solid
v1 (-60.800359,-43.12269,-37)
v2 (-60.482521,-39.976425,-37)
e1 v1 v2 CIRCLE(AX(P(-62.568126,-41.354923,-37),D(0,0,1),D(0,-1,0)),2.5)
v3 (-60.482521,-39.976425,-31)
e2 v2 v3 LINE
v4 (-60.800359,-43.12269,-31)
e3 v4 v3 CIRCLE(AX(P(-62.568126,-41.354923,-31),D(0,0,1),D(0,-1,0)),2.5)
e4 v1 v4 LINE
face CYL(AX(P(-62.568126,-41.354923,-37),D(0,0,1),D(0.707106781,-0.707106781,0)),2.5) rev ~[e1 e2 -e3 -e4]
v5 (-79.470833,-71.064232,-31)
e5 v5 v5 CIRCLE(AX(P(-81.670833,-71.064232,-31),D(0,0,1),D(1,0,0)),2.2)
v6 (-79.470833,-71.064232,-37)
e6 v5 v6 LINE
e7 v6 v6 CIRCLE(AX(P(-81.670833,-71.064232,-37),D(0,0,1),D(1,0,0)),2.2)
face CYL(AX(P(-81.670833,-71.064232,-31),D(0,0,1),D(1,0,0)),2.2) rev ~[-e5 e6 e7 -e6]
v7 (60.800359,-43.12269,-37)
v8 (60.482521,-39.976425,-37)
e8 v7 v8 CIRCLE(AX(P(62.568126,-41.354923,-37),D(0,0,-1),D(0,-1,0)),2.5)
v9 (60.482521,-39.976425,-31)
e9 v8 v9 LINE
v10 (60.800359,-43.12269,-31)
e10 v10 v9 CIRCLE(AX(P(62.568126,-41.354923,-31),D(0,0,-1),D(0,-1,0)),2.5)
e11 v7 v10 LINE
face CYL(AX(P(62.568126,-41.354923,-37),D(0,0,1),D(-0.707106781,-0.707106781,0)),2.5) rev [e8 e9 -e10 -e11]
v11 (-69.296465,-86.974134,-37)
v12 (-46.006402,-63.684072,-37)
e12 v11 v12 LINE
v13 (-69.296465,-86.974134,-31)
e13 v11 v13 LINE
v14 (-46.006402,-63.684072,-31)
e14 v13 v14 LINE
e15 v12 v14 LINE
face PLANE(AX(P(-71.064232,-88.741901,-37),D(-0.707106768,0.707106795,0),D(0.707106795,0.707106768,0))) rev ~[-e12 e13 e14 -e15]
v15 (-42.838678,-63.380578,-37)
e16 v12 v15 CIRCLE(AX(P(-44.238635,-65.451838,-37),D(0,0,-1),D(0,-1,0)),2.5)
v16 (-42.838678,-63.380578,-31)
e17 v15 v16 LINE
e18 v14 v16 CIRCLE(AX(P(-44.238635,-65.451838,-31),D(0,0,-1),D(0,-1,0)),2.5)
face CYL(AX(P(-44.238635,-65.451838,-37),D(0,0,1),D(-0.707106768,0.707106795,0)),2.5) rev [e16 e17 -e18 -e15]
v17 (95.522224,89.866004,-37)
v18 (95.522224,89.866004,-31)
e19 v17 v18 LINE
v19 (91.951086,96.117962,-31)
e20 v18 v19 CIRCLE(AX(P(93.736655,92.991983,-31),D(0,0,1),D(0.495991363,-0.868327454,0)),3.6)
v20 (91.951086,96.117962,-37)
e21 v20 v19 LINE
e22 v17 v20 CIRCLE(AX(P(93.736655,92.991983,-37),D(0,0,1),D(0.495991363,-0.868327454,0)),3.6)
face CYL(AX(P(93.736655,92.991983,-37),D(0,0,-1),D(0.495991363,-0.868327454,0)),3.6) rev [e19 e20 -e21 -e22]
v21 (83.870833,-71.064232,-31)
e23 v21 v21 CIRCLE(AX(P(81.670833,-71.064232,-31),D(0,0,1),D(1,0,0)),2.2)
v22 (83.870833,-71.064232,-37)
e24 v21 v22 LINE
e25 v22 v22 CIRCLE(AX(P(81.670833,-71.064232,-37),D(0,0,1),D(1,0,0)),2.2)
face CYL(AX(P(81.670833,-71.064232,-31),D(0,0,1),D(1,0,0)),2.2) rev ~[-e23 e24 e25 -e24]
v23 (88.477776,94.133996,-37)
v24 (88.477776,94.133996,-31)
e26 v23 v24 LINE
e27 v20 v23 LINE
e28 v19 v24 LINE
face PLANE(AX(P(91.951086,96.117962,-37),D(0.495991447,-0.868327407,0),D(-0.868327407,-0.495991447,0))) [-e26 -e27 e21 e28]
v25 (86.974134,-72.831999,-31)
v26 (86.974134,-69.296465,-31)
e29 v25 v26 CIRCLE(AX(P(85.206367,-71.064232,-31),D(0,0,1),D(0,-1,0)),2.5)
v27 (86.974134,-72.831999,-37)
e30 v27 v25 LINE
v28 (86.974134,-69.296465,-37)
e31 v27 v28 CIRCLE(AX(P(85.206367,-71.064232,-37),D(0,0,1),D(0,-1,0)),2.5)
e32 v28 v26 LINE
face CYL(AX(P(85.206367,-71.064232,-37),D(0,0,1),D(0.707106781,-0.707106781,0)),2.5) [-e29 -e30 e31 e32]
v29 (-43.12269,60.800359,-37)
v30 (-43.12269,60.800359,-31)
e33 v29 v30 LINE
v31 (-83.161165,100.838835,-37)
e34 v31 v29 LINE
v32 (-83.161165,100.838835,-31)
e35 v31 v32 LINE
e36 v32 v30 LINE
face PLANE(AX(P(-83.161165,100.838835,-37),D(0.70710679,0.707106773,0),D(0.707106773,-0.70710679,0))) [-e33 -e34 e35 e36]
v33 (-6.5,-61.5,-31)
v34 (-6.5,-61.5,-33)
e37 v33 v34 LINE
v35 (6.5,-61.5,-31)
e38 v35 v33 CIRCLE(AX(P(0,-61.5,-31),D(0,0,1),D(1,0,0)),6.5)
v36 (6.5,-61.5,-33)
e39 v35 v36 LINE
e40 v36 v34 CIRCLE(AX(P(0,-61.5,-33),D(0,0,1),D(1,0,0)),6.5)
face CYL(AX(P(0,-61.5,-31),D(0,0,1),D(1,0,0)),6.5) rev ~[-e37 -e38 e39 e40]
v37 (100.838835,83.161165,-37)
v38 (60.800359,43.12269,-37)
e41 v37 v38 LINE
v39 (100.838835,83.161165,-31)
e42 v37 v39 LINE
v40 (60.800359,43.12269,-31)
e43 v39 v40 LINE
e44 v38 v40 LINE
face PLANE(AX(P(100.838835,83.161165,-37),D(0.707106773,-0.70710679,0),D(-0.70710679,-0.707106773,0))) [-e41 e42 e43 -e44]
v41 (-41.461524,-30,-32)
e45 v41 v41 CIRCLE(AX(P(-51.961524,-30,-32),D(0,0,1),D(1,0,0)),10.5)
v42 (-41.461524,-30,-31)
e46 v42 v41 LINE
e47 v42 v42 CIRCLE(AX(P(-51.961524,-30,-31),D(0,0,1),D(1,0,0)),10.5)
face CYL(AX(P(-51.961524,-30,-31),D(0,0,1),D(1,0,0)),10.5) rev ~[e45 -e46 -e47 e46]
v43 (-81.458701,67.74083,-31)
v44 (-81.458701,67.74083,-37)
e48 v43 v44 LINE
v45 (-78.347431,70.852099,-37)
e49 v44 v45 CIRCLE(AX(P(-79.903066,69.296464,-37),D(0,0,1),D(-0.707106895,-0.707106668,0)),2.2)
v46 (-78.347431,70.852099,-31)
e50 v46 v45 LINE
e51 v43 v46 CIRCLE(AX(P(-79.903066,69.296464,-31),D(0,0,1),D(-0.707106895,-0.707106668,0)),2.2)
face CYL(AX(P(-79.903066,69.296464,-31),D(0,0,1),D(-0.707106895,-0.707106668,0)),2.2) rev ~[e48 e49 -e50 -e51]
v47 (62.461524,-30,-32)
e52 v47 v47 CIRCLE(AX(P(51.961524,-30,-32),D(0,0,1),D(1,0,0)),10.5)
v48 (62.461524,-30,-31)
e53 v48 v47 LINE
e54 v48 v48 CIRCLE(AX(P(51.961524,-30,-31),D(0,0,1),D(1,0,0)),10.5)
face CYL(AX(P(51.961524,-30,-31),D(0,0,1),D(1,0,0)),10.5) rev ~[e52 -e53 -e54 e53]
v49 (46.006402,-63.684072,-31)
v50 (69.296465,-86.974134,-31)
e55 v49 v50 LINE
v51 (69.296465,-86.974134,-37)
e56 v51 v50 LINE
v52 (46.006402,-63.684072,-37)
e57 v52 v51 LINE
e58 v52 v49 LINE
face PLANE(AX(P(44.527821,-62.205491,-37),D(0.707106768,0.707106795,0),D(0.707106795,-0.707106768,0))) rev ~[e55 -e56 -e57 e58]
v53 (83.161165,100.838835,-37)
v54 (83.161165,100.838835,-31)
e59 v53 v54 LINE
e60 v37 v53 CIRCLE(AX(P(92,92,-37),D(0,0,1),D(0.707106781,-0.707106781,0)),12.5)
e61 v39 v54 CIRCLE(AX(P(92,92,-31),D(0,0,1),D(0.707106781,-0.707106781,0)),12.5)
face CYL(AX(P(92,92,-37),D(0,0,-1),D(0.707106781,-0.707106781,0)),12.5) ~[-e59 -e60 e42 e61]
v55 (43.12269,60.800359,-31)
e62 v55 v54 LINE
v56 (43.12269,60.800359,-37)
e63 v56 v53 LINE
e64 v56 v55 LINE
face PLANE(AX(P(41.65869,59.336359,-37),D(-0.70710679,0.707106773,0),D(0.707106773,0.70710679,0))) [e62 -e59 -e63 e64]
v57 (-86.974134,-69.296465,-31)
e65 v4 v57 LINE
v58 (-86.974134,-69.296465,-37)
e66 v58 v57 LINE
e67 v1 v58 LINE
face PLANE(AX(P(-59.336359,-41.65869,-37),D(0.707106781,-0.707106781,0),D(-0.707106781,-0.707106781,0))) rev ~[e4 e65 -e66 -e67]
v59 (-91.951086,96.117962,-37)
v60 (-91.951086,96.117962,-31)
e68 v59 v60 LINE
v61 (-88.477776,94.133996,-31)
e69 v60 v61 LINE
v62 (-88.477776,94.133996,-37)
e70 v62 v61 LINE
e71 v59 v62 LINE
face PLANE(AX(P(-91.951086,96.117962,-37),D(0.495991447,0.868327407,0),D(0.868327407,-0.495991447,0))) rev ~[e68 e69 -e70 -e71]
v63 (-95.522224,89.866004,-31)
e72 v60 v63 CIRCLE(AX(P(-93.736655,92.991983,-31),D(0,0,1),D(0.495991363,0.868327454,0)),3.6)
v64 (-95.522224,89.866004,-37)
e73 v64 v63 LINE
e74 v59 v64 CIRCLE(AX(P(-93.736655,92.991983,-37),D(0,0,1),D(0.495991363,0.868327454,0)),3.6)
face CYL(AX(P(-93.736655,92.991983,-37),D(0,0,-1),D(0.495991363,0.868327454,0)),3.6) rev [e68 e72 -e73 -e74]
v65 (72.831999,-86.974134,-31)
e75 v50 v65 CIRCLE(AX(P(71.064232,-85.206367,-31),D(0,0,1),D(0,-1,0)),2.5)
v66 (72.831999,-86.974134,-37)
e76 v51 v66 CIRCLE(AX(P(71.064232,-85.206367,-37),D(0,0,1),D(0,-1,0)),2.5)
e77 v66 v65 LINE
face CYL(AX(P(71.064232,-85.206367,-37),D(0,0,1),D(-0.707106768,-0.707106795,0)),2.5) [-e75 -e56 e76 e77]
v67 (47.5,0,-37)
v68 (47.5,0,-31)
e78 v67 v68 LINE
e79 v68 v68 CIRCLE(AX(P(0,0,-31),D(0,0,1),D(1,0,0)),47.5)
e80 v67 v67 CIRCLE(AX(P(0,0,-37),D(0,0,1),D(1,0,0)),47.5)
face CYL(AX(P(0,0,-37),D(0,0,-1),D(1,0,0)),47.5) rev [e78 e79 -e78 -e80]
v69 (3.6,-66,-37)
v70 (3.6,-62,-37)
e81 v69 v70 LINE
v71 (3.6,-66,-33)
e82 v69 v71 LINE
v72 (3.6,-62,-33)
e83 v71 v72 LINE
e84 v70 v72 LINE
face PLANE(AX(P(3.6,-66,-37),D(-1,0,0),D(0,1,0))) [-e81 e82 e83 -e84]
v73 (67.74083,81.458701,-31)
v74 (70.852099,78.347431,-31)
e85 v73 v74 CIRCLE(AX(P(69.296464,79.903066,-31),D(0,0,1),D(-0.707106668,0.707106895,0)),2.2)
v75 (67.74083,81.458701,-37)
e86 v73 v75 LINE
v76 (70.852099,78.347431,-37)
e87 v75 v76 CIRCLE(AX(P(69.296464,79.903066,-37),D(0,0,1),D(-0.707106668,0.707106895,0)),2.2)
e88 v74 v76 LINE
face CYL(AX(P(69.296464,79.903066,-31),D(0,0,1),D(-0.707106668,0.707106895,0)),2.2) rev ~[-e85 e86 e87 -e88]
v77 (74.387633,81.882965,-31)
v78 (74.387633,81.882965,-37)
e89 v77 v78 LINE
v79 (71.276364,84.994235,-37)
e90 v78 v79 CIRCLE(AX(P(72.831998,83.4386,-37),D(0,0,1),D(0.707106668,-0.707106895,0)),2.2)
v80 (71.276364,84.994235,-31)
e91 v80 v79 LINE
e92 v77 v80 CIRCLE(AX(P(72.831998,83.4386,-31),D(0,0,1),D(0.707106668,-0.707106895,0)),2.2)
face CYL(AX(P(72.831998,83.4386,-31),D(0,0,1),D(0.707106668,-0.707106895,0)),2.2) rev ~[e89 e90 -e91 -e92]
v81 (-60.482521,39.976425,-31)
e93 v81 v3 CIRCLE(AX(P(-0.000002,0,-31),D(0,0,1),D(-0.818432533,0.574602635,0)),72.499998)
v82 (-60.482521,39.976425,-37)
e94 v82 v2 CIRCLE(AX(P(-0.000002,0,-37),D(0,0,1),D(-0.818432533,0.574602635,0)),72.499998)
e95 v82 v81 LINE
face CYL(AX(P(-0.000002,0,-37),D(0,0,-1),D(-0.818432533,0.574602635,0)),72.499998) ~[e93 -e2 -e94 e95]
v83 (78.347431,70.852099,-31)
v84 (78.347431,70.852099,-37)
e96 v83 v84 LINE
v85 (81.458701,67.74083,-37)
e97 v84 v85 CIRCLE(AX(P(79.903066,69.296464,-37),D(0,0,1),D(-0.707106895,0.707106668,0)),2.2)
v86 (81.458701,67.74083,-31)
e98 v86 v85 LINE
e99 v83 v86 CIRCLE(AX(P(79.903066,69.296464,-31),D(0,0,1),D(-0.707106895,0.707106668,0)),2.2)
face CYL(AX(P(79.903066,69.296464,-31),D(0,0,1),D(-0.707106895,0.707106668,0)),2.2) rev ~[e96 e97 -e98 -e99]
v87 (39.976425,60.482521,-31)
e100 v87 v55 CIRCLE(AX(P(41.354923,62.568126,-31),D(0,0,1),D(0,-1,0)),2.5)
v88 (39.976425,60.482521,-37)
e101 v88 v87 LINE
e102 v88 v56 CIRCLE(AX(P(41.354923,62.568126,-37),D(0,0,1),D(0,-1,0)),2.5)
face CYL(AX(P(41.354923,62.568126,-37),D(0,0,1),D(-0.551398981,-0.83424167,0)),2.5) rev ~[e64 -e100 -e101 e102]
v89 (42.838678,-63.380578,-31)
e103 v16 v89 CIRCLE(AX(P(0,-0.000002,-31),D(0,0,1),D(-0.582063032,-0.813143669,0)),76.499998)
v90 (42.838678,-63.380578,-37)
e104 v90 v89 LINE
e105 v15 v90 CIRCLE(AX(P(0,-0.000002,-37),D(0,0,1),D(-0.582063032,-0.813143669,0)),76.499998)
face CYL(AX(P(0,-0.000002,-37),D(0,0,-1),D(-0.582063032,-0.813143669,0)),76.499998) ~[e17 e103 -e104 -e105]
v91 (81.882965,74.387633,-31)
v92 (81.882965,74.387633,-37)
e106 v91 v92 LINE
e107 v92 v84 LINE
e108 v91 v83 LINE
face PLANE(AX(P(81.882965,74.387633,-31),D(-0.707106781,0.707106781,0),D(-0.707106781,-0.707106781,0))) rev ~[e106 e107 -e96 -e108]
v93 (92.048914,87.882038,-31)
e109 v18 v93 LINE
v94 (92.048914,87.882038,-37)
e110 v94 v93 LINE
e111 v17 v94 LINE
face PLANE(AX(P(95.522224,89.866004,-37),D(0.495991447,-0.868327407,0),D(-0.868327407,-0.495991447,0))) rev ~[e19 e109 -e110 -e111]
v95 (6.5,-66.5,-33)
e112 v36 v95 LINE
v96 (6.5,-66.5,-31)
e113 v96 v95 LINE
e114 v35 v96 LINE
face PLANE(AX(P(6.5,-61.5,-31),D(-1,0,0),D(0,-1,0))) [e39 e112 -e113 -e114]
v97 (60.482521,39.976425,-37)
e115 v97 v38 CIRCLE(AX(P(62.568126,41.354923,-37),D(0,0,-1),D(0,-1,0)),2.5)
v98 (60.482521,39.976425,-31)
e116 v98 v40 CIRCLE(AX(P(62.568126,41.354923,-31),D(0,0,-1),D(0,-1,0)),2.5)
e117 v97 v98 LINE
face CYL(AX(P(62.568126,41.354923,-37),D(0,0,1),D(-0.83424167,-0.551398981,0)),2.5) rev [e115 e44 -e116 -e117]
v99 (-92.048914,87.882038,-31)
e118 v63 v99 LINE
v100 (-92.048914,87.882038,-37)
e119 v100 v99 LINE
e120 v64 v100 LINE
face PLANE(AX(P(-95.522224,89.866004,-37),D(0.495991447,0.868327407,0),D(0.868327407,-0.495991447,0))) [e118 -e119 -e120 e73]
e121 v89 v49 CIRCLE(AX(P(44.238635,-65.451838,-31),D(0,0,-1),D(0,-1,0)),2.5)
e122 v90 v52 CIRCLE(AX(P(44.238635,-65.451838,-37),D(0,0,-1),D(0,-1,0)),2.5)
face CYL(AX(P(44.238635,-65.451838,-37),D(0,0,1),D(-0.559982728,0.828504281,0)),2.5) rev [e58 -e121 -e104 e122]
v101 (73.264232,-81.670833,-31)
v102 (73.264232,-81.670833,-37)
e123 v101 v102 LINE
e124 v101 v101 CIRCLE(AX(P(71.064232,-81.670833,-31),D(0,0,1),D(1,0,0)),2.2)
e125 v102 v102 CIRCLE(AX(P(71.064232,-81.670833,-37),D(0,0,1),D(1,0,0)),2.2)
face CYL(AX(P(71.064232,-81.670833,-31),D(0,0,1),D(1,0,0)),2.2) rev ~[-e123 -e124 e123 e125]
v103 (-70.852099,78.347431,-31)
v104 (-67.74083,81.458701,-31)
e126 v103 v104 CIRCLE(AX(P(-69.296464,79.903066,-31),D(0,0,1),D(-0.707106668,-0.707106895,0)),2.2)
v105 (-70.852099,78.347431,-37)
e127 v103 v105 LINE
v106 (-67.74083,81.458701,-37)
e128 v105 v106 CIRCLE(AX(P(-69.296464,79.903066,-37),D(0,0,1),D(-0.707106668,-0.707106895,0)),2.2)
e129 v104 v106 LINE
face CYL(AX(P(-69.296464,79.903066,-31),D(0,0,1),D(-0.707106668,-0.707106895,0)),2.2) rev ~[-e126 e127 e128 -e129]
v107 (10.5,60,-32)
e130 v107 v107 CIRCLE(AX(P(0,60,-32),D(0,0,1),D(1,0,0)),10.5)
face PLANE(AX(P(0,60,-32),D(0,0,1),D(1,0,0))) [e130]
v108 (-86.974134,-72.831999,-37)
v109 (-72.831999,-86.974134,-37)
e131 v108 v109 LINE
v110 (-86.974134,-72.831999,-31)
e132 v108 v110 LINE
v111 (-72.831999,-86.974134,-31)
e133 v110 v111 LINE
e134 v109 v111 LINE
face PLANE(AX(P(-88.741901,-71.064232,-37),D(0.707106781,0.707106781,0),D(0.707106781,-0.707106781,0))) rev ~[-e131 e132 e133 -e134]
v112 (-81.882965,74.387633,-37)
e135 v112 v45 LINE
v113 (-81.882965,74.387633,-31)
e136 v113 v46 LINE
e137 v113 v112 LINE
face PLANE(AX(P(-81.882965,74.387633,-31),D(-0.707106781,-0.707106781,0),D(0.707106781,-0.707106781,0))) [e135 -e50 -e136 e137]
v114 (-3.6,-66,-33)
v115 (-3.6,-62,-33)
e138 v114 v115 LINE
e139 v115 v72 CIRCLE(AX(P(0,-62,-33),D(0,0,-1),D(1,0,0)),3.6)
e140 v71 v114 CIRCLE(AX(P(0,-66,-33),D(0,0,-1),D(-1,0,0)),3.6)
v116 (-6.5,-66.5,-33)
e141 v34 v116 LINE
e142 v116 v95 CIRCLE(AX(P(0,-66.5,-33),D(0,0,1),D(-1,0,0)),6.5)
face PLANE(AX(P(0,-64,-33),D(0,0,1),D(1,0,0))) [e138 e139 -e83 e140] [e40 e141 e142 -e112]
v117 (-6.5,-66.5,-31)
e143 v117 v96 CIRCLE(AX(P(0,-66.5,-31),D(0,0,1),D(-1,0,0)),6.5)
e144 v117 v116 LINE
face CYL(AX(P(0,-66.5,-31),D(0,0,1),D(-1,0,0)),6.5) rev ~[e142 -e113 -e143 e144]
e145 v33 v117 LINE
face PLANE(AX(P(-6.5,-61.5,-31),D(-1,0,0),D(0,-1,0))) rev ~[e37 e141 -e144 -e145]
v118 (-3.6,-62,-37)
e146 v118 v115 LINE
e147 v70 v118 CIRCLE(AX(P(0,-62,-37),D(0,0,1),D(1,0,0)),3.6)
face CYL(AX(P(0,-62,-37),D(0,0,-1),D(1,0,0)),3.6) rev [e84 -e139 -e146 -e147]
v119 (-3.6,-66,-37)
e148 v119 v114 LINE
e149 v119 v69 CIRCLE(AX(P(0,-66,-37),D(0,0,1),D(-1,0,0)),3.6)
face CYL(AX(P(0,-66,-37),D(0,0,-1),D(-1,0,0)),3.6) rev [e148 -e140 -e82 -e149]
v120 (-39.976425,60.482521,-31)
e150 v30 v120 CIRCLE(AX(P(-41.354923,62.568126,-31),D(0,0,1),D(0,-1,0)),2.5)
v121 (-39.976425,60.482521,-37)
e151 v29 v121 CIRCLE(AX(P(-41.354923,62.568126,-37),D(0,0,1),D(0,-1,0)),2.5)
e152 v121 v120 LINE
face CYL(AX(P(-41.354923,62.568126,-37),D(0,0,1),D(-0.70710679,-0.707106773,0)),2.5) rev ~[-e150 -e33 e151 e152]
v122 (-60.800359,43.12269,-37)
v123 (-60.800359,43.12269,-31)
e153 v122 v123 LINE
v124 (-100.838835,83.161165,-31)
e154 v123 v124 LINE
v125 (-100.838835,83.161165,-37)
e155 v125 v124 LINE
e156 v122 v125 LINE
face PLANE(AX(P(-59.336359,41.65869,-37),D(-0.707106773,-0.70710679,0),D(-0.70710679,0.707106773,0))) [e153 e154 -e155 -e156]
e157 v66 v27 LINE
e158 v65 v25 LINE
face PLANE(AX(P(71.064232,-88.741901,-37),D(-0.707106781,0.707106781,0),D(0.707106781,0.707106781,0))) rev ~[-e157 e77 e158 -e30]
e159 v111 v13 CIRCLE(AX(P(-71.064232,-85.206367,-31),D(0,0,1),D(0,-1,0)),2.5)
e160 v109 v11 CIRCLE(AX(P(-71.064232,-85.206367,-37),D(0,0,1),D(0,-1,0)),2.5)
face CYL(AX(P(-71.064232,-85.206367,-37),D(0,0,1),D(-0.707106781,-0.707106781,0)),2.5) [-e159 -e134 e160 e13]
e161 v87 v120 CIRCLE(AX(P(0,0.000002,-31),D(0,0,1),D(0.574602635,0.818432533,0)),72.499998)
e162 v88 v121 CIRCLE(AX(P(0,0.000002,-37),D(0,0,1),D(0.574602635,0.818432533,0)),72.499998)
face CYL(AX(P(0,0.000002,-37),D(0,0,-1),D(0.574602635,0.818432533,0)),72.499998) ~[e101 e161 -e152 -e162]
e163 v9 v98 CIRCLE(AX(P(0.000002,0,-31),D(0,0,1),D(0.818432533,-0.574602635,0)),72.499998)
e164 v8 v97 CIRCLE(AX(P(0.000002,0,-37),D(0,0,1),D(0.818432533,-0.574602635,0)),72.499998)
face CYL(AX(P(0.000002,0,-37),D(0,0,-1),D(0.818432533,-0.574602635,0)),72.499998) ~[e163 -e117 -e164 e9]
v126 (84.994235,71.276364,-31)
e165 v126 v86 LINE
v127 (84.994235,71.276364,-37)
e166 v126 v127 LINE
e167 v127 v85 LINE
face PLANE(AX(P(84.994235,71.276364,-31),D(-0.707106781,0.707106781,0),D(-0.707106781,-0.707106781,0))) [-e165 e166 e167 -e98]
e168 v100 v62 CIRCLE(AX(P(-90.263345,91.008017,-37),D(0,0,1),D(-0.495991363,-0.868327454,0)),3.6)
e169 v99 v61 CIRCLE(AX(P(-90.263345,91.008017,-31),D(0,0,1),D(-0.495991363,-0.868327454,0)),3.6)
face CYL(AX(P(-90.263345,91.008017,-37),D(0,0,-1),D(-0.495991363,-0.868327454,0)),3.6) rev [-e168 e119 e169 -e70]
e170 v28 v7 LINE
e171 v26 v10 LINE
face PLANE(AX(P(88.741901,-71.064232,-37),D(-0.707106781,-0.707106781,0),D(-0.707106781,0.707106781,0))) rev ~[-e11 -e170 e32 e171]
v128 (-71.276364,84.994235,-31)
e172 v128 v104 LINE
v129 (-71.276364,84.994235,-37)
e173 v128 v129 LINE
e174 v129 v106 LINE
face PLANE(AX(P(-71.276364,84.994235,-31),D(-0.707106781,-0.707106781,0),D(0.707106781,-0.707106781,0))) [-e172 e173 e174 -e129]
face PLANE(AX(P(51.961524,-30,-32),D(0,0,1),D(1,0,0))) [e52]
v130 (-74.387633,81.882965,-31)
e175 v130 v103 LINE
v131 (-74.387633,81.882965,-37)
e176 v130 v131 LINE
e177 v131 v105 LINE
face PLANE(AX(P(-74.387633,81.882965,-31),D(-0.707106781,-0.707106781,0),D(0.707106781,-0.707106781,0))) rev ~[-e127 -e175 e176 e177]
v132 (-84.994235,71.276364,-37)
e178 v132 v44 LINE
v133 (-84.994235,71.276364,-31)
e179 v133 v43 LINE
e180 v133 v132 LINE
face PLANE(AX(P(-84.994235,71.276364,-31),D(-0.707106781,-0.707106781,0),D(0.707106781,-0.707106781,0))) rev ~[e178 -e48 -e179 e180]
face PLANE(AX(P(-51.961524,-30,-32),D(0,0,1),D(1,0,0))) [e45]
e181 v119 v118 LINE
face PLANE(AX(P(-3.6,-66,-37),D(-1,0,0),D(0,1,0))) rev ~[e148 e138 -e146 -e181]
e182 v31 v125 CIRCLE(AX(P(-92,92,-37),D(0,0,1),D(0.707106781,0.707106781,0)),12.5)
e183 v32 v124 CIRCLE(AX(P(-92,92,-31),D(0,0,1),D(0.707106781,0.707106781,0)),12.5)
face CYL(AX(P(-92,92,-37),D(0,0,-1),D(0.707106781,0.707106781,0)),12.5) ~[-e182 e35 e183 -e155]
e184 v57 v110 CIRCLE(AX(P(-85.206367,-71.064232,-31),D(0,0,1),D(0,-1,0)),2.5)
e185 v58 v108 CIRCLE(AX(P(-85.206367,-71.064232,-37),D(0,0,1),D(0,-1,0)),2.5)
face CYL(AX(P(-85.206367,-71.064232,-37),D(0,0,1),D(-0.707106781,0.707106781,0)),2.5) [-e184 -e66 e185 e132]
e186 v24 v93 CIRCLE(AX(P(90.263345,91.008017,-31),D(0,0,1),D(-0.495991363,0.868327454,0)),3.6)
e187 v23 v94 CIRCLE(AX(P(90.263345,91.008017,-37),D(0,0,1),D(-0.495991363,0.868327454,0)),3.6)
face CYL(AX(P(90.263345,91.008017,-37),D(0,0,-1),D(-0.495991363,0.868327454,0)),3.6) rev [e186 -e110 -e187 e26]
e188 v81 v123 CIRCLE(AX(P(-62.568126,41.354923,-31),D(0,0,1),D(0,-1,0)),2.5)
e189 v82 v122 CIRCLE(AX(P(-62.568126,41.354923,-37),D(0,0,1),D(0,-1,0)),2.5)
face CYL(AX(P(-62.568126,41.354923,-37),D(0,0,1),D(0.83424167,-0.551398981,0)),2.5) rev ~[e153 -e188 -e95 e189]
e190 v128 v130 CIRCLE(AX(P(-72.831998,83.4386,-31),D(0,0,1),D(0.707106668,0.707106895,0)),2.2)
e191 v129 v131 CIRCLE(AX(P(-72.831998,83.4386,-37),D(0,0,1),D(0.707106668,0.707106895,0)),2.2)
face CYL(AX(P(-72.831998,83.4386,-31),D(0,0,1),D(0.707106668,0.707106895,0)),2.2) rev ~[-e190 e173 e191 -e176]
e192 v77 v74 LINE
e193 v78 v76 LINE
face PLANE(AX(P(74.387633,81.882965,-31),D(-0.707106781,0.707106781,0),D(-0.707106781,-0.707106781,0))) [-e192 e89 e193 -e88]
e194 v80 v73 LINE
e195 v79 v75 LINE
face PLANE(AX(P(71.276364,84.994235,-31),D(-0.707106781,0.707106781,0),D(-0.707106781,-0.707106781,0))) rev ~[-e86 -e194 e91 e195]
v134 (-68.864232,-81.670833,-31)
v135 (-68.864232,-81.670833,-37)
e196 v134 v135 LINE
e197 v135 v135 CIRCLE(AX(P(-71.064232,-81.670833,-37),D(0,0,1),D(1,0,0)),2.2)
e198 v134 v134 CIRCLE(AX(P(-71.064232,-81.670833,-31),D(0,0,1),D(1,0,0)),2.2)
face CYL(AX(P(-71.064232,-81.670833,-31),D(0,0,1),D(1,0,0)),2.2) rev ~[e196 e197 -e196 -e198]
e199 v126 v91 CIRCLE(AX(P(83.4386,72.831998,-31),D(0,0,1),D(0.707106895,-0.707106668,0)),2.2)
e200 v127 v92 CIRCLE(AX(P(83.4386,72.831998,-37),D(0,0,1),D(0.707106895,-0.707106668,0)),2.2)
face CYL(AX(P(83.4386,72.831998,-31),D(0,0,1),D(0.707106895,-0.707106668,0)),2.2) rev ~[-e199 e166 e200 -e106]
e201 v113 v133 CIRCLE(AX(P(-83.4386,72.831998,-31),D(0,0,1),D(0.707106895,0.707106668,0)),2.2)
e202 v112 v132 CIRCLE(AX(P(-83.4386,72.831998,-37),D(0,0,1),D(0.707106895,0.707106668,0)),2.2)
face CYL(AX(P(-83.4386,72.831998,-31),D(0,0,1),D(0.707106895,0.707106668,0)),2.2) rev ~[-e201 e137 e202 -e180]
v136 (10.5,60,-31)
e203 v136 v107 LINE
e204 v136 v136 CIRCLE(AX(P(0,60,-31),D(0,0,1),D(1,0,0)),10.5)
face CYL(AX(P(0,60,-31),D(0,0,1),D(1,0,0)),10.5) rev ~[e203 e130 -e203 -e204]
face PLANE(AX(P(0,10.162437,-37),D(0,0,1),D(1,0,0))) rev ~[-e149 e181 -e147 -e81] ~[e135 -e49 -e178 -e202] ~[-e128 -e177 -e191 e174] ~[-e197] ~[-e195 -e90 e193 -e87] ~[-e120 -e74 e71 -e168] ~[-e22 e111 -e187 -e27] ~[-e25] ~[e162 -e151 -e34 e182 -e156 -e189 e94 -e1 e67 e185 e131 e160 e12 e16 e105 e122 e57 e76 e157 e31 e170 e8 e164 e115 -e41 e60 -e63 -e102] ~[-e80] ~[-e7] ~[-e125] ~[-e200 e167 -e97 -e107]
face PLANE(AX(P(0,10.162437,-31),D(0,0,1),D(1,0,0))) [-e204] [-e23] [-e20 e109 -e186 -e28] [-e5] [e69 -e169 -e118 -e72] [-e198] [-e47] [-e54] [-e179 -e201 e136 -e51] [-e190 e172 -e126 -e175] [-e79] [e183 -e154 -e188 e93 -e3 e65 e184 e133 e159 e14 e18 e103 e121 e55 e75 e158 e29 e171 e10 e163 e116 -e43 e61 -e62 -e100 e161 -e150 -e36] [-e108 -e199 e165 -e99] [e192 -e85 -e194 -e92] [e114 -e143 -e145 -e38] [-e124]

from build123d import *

# Parameters (mm, degrees)
SKETCH_R        = 47.5
PAD021_DEPTH    = 6
SKETCH017_R     = 2.2
POCKET013_DEPTH = 6.001
POCKET014_DEPTH = 2
FILLET_R        = 2.5
SKETCH024_R     = 10.5
POCKET036_DEPTH = 1


with BuildPart() as part:
    # Sketch → Pad021 (new body)
    with BuildSketch(Plane.XY):
        with BuildLine():
            Line((-59.336359, -41.65869), (-88.741901, -71.064232))
            Line((-88.741901, -71.064232), (-71.064232, -88.741901))
            Line((-71.064232, -88.741901), (-44.527821, -62.205491))
            ThreePointArc((-44.527821, -62.205491), (0, -76.5), (44.527821, -62.205491))
            Line((44.527821, -62.205491), (71.064232, -88.741901))
            Line((71.064232, -88.741901), (88.741901, -71.064232))
            Line((88.741901, -71.064232), (59.336359, -41.65869))
            ThreePointArc((59.336359, -41.65869), (72.5, 0), (59.336359, 41.65869))
            Line((100.838835, 83.161165), (59.336359, 41.65869))
            ThreePointArc((100.838835, 83.161165), (100.838835, 100.838835), (83.161165, 100.838835))
            Line((41.65869, 59.336359), (83.161165, 100.838835))
            ThreePointArc((41.65869, 59.336359), (0, 72.5), (-41.65869, 59.336359))
            Line((-83.161165, 100.838835), (-41.65869, 59.336359))
            ThreePointArc((-83.161165, 100.838835), (-100.838835, 100.838835), (-100.838835, 83.161165))
            Line((-59.336359, 41.65869), (-100.838835, 83.161165))
            ThreePointArc((-59.336359, 41.65869), (-72.5, 0), (-59.336359, -41.65869))
        make_face()
        Circle(SKETCH_R, mode=Mode.SUBTRACT)
        with BuildLine():
            ThreePointArc((-91.951086, 96.117962), (-96.862634, 94.777552), (-95.522224, 89.866004))
            Line((-95.522224, 89.866004), (-92.048914, 87.882038))
            ThreePointArc((-92.048914, 87.882038), (-87.137366, 89.222448), (-88.477776, 94.133996))
            Line((-91.951086, 96.117962), (-88.477776, 94.133996))
        make_face(mode=Mode.SUBTRACT)
        with BuildLine():
            ThreePointArc((95.522224, 89.866004), (96.862634, 94.777552), (91.951086, 96.117962))
            Line((91.951086, 96.117962), (88.477776, 94.133996))
            ThreePointArc((88.477776, 94.133996), (87.137366, 89.222448), (92.048914, 87.882038))
            Line((95.522224, 89.866004), (92.048914, 87.882038))
        make_face(mode=Mode.SUBTRACT)
        with BuildLine():
            ThreePointArc((-3.6, -66), (0, -69.6), (3.6, -66))
            Line((3.6, -66), (3.6, -62))
            ThreePointArc((3.6, -62), (0, -58.4), (-3.6, -62))
            Line((-3.6, -66), (-3.6, -62))
        make_face(mode=Mode.SUBTRACT)
    extrude(amount=PAD021_DEPTH)

    # Sketch017 (on DatumPlane) → Pocket013 (cut, through all)
    with BuildSketch(Plane.XY.offset(6)):
        with Locations((81.670833, -71.064232)):
            Circle(SKETCH017_R)
        with Locations((71.064232, -81.670833)):
            Circle(SKETCH017_R)
        with Locations((-71.064232, -81.670833)):
            Circle(SKETCH017_R)
        with Locations((-81.670833, -71.064232)):
            Circle(SKETCH017_R)
        with BuildLine():
            ThreePointArc((74.387633, 81.882965), (74.387633, 84.994235), (71.276364, 84.994235))
            Line((71.276364, 84.994235), (67.74083, 81.458701))
            ThreePointArc((67.74083, 81.458701), (67.74083, 78.347431), (70.852099, 78.347431))
            Line((74.387633, 81.882965), (70.852099, 78.347431))
        make_face()
        with BuildLine():
            ThreePointArc((84.994235, 71.276364), (84.994235, 74.387633), (81.882965, 74.387633))
            Line((81.882965, 74.387633), (78.347431, 70.852099))
            ThreePointArc((78.347431, 70.852099), (78.347431, 67.74083), (81.458701, 67.74083))
            Line((84.994235, 71.276364), (81.458701, 67.74083))
        make_face()
        with BuildLine():
            ThreePointArc((-71.276364, 84.994235), (-74.387633, 84.994235), (-74.387633, 81.882965))
            Line((-74.387633, 81.882965), (-70.852099, 78.347431))
            ThreePointArc((-70.852099, 78.347431), (-67.74083, 78.347431), (-67.74083, 81.458701))
            Line((-71.276364, 84.994235), (-67.74083, 81.458701))
        make_face()
        with BuildLine():
            ThreePointArc((-81.882965, 74.387633), (-84.994235, 74.387633), (-84.994235, 71.276364))
            Line((-84.994235, 71.276364), (-81.458701, 67.74083))
            ThreePointArc((-81.458701, 67.74083), (-78.347431, 67.74083), (-78.347431, 70.852099))
            Line((-81.882965, 74.387633), (-78.347431, 70.852099))
        make_face()
    extrude(amount=-POCKET013_DEPTH, mode=Mode.SUBTRACT)

    # Sketch012 (on DatumPlane) → Pocket014 (cut)
    with BuildSketch(Plane.XY.offset(6)):
        with BuildLine():
            ThreePointArc((6.5, -61.5), (0, -55), (-6.5, -61.5))
            Line((-6.5, -61.5), (-6.5, -66.5))
            ThreePointArc((-6.5, -66.5), (0, -73), (6.5, -66.5))
            Line((6.5, -61.5), (6.5, -66.5))
        make_face()
    extrude(amount=-POCKET014_DEPTH, mode=Mode.SUBTRACT)

    # Fillet
    fillet_edges = [part.edges().sort_by_distance(p)[0] for p in [
        (-59.336359, 41.65869, 3),
        (-59.336359, -41.65869, 3),
        (-88.741901, -71.064232, 3),
        (-84.994235, 71.276364, 3),
        (-74.387633, 81.882965, 3),
        (-71.276364, 84.994235, 3),
        (-81.882965, 74.387633, 3),
        (-44.527821, -62.205491, 3),
        (44.527821, -62.205491, 3),
        (59.336359, -41.65869, 3),
        (59.336359, 41.65869, 3),
        (41.65869, 59.336359, 3),
        (-41.65869, 59.336359, 3),
        (-71.064232, -88.741901, 3),
        (71.064232, -88.741901, 3),
        (88.741901, -71.064232, 3),
    ]]
    fillet(fillet_edges, radius=FILLET_R)

    # Sketch024 (on DatumPlane) → Pocket036 (cut)
    with BuildSketch(Plane.XY.offset(6)):
        with Locations((0, 60)):
            Circle(SKETCH024_R)
        with Locations((-51.961524, -30)):
            Circle(SKETCH024_R)
        with Locations((51.961524, -30)):
            Circle(SKETCH024_R)
    extrude(amount=-POCKET036_DEPTH, mode=Mode.SUBTRACT)


with BuildPart() as part_1:
    # Body placement: moved
    add(part.part.moved(Location((0, 0, -37))))


solid = part_1.part
